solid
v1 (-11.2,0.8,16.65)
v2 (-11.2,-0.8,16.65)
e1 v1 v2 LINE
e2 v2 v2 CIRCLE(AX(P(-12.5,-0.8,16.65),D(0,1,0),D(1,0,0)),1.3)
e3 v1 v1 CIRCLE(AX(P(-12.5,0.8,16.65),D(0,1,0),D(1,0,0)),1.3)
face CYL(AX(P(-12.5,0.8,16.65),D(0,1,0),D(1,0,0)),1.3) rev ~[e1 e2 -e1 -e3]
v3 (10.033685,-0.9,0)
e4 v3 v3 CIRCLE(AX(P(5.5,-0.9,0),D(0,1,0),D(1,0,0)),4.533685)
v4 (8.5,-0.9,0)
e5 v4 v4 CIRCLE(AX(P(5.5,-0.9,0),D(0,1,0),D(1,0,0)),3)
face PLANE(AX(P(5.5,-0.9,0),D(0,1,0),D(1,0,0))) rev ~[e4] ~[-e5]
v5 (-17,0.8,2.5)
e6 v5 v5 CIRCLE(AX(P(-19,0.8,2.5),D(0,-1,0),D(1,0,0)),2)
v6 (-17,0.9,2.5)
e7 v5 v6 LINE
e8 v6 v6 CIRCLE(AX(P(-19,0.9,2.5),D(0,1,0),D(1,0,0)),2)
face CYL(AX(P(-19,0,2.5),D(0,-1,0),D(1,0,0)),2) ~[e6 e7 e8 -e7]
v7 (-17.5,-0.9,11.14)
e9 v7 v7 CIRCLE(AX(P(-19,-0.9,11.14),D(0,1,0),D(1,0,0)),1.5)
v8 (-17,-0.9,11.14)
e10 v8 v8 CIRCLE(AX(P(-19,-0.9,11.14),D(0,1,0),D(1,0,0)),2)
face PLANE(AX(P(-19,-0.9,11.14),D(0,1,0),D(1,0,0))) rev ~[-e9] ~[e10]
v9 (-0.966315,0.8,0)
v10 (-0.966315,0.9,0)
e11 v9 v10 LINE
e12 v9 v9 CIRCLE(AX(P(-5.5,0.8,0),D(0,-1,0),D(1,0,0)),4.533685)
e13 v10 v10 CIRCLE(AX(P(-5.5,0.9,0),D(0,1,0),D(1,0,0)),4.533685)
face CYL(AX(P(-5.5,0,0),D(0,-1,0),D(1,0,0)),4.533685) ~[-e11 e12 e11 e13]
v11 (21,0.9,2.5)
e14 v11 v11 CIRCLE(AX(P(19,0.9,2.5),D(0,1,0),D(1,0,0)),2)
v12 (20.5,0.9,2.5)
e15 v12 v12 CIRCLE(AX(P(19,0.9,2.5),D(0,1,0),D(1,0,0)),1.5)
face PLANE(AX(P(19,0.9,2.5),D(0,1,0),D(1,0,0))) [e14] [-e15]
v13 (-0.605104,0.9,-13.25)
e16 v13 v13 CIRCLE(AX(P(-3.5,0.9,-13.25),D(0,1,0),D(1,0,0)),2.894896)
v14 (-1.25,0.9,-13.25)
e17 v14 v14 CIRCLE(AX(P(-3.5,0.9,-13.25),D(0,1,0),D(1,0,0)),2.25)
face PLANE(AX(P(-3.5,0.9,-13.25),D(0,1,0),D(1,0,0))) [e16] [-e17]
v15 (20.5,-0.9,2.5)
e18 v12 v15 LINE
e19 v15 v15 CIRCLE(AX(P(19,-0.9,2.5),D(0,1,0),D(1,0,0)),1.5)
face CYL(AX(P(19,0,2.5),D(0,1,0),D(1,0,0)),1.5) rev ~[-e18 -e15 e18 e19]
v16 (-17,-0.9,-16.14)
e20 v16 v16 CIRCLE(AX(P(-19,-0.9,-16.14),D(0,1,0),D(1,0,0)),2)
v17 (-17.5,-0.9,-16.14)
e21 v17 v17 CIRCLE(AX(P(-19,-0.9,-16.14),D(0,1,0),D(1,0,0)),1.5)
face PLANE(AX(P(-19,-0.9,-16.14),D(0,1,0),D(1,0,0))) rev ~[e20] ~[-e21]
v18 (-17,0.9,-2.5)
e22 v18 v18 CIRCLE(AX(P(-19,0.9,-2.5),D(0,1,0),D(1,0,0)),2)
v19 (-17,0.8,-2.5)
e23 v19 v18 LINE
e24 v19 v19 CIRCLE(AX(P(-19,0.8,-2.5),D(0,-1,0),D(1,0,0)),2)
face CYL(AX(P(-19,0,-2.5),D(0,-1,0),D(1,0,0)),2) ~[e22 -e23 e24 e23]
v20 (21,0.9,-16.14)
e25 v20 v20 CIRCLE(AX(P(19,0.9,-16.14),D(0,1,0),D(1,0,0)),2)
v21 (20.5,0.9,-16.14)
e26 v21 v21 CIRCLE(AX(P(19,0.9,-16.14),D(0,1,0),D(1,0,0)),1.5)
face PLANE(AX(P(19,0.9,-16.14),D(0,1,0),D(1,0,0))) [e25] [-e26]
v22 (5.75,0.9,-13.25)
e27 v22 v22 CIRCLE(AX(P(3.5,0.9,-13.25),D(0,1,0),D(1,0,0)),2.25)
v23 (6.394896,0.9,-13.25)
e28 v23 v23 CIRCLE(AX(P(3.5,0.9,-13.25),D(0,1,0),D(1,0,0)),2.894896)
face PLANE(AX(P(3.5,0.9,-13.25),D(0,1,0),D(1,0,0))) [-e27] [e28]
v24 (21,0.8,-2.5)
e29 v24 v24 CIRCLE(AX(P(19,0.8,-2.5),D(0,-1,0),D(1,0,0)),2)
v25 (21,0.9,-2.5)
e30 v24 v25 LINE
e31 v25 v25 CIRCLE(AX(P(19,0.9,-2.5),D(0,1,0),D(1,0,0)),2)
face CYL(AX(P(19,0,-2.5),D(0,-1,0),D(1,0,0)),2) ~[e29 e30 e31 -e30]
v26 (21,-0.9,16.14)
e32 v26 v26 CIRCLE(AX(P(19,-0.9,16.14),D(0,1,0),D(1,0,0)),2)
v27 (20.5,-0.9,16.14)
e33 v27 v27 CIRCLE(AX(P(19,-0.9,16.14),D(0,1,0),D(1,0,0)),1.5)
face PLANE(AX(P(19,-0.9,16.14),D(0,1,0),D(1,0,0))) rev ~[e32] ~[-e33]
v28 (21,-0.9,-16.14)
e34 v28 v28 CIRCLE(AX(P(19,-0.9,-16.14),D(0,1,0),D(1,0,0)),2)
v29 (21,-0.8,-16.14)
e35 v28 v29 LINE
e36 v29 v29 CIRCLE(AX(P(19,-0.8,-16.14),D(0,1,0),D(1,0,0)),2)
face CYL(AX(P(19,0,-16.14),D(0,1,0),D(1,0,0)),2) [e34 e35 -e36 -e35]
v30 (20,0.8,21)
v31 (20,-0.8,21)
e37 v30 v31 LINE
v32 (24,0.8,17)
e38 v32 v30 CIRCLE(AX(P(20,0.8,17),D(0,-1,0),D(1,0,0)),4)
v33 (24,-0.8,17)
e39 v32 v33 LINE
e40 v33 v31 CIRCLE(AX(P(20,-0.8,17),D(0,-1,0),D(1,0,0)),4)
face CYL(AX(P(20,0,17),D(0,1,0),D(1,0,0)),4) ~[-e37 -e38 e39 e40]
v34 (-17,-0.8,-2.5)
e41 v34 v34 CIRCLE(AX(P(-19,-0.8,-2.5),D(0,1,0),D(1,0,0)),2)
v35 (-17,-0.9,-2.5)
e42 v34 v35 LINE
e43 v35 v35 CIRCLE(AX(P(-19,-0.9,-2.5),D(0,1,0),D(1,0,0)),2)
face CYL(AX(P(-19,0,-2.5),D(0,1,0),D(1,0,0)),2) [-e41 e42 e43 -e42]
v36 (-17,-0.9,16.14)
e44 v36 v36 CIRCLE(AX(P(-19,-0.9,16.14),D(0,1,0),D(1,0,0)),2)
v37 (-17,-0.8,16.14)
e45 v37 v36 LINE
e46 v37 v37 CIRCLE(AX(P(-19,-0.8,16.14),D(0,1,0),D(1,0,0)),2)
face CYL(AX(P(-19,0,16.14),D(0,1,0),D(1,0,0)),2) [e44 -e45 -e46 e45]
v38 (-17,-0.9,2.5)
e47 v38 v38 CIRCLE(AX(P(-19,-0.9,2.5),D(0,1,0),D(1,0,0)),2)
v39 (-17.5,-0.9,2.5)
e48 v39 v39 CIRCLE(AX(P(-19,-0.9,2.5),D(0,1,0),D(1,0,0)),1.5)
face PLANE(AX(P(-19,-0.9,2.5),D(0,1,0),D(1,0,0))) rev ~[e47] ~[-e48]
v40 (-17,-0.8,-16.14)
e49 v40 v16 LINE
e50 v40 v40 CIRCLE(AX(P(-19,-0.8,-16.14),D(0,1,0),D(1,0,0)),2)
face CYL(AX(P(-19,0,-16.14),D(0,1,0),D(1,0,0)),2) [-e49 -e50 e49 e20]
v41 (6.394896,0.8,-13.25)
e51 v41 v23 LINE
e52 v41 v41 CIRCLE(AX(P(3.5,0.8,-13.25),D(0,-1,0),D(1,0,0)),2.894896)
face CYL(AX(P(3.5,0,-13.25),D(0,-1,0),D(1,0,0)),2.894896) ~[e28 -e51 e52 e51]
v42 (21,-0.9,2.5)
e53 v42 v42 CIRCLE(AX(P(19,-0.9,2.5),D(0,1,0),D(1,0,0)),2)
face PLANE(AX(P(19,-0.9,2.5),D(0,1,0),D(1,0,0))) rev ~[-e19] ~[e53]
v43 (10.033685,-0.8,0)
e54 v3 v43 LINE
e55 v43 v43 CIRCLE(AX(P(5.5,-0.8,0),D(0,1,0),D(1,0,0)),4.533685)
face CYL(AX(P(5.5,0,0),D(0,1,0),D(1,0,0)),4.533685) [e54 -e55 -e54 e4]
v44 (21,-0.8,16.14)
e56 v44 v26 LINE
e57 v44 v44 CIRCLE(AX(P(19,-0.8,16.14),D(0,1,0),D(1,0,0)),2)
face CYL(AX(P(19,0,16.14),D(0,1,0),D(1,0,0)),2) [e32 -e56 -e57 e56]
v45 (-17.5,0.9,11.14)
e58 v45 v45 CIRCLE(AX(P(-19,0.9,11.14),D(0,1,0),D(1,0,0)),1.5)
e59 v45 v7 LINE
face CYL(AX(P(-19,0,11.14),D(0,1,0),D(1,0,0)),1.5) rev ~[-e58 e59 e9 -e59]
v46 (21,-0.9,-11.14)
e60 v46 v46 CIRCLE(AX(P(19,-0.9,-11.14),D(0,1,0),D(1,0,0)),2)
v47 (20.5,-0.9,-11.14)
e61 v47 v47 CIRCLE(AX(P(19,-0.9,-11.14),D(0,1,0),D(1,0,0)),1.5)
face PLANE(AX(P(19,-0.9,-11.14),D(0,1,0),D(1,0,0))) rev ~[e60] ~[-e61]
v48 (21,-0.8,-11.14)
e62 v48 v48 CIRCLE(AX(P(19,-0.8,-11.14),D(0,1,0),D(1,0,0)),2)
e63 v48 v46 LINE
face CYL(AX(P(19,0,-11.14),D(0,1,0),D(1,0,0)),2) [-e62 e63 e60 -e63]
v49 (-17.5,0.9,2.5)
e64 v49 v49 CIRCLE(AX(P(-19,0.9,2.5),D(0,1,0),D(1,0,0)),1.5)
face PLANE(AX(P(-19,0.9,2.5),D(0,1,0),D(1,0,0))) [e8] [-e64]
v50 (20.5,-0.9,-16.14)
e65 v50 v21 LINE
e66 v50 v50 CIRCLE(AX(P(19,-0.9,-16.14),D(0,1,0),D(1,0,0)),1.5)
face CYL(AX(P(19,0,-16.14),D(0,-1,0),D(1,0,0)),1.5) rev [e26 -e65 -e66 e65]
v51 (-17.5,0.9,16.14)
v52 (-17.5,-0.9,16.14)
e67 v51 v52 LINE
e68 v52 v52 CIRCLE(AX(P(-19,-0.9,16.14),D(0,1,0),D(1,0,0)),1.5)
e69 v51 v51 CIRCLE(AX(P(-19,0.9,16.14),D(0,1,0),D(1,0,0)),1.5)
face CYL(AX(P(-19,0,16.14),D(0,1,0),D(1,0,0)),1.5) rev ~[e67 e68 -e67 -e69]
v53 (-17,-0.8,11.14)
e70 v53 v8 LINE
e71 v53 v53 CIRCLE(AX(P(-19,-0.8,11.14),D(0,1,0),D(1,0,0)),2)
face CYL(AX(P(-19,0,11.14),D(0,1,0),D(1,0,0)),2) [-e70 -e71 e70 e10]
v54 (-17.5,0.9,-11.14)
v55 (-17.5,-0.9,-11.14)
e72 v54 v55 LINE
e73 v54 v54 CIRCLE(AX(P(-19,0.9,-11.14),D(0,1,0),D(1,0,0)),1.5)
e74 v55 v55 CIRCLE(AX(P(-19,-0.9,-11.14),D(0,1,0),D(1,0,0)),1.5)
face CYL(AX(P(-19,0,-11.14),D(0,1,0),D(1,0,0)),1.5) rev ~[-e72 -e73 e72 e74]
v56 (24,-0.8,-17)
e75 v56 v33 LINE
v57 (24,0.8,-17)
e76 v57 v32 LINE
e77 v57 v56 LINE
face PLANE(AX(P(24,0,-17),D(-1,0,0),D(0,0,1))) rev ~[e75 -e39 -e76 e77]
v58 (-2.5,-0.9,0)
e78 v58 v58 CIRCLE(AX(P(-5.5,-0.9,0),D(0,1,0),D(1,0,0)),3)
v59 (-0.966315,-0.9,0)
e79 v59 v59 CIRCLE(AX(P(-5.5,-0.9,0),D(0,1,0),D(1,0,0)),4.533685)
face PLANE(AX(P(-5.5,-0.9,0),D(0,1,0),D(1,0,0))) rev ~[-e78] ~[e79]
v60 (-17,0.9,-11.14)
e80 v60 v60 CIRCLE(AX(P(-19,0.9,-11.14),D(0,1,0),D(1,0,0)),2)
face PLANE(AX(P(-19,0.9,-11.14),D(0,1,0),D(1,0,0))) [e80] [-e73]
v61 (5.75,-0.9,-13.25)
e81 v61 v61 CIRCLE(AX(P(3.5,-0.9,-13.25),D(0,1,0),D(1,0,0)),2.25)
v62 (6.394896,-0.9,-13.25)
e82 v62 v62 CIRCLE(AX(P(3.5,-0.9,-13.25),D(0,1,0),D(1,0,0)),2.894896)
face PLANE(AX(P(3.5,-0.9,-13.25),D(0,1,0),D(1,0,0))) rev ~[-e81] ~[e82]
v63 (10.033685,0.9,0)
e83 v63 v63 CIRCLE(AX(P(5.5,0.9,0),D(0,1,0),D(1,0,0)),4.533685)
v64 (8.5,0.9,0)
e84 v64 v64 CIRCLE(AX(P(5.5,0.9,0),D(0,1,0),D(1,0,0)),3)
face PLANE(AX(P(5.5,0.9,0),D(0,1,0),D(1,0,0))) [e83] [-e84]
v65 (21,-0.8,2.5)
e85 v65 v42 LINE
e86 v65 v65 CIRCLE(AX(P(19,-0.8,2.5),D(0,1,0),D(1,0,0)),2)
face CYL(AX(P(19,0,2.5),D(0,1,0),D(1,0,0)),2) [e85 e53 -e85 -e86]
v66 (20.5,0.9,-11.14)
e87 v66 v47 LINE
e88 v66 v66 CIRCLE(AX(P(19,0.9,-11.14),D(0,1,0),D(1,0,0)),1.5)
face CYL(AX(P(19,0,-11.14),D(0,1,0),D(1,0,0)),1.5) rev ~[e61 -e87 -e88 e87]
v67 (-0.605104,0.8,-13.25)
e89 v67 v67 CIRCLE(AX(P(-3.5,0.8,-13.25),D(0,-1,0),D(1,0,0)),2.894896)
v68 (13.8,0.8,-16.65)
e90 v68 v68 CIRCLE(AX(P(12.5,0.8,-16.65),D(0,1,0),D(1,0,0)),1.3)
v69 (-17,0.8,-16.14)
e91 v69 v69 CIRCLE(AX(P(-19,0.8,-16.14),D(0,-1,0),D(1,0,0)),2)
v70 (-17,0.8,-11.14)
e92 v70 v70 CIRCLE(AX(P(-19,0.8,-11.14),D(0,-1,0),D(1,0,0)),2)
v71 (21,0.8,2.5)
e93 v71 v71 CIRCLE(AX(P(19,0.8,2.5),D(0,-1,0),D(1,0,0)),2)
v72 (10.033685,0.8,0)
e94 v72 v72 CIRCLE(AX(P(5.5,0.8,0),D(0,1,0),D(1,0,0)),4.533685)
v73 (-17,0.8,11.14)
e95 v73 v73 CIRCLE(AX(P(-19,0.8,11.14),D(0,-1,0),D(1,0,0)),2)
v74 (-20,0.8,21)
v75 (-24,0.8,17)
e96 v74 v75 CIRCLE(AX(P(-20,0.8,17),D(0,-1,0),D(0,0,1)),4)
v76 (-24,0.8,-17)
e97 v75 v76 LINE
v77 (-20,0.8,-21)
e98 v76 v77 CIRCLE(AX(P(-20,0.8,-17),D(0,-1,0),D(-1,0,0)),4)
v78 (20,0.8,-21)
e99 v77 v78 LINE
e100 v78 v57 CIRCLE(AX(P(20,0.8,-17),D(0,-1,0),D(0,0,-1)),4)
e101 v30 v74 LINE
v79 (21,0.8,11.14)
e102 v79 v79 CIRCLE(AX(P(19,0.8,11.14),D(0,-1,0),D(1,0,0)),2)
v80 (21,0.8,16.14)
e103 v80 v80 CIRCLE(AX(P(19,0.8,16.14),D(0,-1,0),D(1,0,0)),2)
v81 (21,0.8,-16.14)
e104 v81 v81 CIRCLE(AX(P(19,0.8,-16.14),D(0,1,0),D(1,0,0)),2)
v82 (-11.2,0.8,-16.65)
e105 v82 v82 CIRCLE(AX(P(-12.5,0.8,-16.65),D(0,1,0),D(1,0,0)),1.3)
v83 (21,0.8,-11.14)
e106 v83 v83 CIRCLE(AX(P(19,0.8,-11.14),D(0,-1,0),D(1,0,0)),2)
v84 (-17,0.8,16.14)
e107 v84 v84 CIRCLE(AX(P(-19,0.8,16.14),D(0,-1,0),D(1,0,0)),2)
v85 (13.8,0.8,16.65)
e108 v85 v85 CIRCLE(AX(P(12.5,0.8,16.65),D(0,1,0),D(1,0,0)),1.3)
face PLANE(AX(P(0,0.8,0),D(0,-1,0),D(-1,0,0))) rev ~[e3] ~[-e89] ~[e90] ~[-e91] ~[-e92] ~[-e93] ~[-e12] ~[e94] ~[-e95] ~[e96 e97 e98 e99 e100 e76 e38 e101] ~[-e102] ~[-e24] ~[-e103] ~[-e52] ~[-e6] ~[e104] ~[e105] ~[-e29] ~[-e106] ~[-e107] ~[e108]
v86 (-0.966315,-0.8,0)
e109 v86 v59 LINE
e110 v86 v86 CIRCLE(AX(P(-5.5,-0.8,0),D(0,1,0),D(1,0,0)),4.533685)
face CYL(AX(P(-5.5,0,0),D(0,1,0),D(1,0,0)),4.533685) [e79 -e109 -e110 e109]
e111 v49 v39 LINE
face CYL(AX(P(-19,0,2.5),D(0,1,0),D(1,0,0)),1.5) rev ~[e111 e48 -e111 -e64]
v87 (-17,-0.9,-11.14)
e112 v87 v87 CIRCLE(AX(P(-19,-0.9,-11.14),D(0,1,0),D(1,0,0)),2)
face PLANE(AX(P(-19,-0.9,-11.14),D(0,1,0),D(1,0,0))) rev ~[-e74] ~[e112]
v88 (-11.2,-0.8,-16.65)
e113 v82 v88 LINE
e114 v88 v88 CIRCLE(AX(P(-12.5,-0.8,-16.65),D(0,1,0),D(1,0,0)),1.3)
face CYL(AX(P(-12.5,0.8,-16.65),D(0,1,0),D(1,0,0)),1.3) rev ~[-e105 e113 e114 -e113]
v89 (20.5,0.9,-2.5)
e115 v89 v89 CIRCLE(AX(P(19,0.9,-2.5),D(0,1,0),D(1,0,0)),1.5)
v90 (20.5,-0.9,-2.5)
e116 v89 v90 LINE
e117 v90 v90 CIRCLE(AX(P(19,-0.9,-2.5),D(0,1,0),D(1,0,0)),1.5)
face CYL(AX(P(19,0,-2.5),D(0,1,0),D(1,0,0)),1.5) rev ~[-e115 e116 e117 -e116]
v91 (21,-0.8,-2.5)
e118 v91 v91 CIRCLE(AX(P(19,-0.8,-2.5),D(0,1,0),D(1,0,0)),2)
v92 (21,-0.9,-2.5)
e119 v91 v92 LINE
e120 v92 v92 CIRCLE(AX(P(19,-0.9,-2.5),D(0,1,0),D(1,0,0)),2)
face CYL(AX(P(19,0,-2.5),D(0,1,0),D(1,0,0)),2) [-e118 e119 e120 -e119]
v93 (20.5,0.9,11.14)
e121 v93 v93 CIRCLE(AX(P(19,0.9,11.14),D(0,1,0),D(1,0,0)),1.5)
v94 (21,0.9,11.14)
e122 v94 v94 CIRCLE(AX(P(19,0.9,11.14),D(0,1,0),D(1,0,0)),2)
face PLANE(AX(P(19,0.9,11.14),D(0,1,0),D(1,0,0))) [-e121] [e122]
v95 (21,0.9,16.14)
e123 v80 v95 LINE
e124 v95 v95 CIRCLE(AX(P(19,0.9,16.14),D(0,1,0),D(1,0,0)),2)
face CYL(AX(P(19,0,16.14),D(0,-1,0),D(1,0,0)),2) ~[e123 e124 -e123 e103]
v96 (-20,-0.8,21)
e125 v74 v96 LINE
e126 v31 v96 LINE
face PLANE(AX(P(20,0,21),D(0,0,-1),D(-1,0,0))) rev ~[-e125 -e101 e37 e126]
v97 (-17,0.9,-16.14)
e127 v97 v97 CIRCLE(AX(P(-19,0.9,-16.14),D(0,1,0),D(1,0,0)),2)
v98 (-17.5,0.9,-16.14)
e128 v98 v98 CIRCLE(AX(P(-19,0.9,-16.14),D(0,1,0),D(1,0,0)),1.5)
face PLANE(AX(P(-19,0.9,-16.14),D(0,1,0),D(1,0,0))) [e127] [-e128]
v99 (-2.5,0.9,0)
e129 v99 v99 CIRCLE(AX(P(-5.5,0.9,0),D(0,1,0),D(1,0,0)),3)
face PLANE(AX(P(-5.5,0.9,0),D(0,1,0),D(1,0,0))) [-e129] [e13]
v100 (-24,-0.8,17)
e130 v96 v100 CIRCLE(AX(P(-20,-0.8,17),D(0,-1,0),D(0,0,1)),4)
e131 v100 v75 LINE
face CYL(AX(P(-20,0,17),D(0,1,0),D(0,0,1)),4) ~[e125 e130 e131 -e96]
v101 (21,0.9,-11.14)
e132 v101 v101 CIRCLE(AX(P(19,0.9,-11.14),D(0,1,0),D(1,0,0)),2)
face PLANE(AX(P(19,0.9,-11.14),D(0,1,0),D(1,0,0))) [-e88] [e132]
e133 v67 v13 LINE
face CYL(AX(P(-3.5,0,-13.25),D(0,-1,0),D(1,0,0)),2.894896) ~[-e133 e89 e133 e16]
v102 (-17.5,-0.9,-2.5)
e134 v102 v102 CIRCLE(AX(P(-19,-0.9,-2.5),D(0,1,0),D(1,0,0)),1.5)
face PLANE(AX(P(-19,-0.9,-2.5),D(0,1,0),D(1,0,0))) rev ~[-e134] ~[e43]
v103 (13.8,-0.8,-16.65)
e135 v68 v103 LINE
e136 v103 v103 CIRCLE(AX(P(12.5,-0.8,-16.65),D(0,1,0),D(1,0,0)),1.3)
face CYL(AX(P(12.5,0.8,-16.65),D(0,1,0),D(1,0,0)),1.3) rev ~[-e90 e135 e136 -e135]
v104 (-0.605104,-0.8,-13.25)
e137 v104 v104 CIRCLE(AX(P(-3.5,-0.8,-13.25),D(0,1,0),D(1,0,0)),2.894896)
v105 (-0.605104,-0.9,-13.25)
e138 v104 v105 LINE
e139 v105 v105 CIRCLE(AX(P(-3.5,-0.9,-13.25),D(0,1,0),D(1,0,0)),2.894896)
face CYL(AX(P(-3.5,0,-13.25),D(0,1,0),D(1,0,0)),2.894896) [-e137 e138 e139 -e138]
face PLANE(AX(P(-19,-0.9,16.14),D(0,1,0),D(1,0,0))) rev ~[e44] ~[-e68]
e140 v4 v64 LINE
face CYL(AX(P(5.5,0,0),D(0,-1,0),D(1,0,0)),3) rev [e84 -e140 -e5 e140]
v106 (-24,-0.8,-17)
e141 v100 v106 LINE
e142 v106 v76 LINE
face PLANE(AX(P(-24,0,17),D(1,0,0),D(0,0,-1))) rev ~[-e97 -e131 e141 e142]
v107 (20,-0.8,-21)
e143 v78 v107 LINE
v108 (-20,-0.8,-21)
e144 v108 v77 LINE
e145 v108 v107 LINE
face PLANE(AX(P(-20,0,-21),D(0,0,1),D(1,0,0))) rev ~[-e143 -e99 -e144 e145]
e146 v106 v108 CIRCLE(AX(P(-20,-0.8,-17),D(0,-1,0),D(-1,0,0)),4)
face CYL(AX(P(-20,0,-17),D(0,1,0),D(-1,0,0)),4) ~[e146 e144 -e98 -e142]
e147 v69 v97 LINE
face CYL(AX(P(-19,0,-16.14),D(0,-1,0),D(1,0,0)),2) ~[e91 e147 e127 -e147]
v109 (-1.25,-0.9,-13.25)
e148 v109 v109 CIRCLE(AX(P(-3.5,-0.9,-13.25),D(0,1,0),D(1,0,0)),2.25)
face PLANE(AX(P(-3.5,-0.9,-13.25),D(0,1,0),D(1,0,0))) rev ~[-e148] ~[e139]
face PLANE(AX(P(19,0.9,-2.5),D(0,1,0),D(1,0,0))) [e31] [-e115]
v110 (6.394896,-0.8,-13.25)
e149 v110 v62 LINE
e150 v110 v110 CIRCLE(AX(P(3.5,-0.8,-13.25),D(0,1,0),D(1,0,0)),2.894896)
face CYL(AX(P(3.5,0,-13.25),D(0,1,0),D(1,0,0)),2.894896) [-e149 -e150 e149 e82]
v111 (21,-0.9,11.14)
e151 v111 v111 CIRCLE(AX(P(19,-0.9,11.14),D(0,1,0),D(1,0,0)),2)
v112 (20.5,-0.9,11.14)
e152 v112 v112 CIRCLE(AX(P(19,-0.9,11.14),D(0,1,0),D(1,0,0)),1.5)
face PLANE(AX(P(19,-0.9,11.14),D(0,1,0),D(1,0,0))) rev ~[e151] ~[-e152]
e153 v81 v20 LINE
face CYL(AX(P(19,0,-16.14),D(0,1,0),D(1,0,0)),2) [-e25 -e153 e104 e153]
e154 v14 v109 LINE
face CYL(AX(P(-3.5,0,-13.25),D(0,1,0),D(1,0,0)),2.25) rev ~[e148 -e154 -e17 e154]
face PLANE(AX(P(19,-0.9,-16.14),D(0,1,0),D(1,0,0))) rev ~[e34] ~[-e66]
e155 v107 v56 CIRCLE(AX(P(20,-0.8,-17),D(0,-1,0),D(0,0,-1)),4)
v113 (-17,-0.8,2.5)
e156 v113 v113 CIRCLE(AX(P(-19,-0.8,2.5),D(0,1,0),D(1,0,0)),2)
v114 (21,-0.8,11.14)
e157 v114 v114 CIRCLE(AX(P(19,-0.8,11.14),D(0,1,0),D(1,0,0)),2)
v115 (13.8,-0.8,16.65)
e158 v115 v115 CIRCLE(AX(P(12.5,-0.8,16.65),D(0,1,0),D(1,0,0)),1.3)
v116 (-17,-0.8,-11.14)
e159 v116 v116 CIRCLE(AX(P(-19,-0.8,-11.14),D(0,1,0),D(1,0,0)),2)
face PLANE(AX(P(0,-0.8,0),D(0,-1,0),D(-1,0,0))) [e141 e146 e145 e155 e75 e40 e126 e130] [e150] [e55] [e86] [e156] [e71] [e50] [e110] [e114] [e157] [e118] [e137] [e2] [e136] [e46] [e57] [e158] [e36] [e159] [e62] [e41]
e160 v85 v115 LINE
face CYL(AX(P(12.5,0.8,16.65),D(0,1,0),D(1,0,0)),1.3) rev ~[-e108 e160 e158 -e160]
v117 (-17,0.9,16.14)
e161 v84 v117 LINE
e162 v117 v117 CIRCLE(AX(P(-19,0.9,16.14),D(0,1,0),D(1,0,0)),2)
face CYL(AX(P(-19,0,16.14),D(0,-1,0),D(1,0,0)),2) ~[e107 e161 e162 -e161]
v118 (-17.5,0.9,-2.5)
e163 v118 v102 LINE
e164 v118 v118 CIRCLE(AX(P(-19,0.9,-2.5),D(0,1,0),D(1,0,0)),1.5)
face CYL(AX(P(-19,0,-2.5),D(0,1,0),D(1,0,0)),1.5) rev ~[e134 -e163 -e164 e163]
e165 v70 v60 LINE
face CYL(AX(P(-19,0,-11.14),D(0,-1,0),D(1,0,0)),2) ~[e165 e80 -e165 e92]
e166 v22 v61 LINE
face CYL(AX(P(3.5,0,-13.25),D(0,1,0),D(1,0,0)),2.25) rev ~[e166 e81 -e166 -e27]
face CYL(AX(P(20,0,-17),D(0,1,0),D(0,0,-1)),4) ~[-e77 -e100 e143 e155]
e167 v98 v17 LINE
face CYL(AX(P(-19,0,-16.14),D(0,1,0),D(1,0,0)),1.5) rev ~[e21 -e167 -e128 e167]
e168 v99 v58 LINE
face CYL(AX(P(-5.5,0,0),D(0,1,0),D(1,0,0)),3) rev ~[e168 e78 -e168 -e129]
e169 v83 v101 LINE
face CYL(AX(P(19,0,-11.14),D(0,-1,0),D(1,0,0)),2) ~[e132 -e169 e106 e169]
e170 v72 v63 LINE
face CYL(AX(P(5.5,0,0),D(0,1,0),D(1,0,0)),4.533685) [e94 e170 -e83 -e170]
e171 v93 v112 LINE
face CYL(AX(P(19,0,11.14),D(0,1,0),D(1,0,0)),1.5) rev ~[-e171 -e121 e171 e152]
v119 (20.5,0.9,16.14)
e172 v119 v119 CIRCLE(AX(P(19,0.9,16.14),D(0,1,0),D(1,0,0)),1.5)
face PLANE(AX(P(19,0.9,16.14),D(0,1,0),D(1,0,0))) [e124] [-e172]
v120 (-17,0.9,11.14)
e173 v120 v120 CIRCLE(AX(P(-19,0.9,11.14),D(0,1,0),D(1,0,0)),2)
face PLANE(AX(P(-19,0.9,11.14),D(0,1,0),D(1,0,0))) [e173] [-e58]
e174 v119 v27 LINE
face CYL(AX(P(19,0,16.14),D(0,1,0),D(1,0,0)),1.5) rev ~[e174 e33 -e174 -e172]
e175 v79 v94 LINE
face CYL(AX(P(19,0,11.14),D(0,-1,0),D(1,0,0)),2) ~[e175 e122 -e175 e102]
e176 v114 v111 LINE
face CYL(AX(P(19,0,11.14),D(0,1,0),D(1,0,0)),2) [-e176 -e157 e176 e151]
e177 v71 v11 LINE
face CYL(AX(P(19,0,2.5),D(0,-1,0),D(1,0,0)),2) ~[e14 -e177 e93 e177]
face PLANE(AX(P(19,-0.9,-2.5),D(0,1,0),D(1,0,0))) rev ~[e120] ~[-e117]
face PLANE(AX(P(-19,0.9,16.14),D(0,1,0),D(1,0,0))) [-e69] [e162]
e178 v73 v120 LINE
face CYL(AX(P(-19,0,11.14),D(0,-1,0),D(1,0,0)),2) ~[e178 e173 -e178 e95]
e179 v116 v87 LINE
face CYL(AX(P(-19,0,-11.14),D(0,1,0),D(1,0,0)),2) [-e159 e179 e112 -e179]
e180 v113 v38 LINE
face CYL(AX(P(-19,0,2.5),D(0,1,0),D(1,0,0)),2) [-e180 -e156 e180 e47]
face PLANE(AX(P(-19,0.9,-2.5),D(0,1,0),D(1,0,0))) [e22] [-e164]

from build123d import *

# Parameters (mm, degrees)
SALIENTE_EXTRUIR1_DEPTH    = 0.8
CROQUIS2_R                 = 1.3
CORTAR_EXTRUIR1_DEPTH      = 1
CORTAR_EXTRUIR1_DEPTH_BACK = 2.6
CROQUIS3_R                 = 3
CORTAR_EXTRUIR2_DEPTH      = 2.6
CROQUIS5_R                 = 4.533685243
CROQUIS5_R_2               = 3
SALIENTE_EXTRUIR2_DEPTH    = 0.9
CROQUIS6_R                 = 2.25
CROQUIS6_R_2               = 1.5
CORTAR_EXTRUIR3_DEPTH      = 2.7
CROQUIS7_R                 = 2
CROQUIS7_R_2               = 1.5
CROQUIS7_R_3               = 2.894896359
CROQUIS7_R_4               = 2.25
SALIENTE_EXTRUIR3_DEPTH    = 0.9


with BuildPart() as part:
    # Croquis1 → Saliente-Extruir1 (new body, symmetric)
    with BuildSketch(Plane(origin=(0, 0, 0), x_dir=(1, 0, 0), z_dir=(0, 1, 0))):
        with BuildLine():
            Line((-20, 21), (20, 21))
            ThreePointArc((20, 21), (22.828427125, 19.828427125), (24, 17))
            Line((24, 17), (24, -17))
            ThreePointArc((24, -17), (22.828427125, -19.828427125), (20, -21))
            Line((20, -21), (-20, -21))
            ThreePointArc((-20, -21), (-22.828427125, -19.828427125), (-24, -17))
            Line((-24, -17), (-24, 17))
            ThreePointArc((-24, 17), (-22.828427125, 19.828427125), (-20, 21))
        make_face()
    extrude(amount=SALIENTE_EXTRUIR1_DEPTH, both=True)

    # Croquis2 → Cortar-Extruir1 (cut, two sides)
    with BuildSketch(Plane(origin=(0, 0.8, 0), x_dir=(1, 0, 0), z_dir=(0, 1, 0))) as cortar_extruir1_sk:
        with Locations((-12.5, 16.65)):
            Circle(CROQUIS2_R)
        with Locations((12.5, 16.65)):
            Circle(CROQUIS2_R)
        with Locations((12.5, -16.65)):
            Circle(CROQUIS2_R)
        with Locations((-12.5, -16.65)):
            Circle(CROQUIS2_R)
    extrude(amount=CORTAR_EXTRUIR1_DEPTH, mode=Mode.SUBTRACT)
    extrude(cortar_extruir1_sk.sketch, amount=-CORTAR_EXTRUIR1_DEPTH_BACK, mode=Mode.SUBTRACT)

    # Croquis3 → Cortar-Extruir2 (cut, through all)
    with BuildSketch(Plane(origin=(0, 0.8, 0), x_dir=(1, 0, 0), z_dir=(0, 1, 0))):
        with Locations((-5.5, 0)):
            Circle(CROQUIS3_R)
        with Locations((5.5, 0)):
            Circle(CROQUIS3_R)
    extrude(amount=-CORTAR_EXTRUIR2_DEPTH, mode=Mode.SUBTRACT)

    # Croquis5 → Saliente-Extruir2 (add, symmetric)
    with BuildSketch(Plane(origin=(0, 0, 0), x_dir=(1, 0, 0), z_dir=(0, 1, 0))):
        with Locations((-5.5, 0)):
            Circle(CROQUIS5_R)
        with Locations((-5.5, 0)):
            Circle(CROQUIS5_R_2, mode=Mode.SUBTRACT)
        with Locations((5.5, 0)):
            Circle(CROQUIS5_R)
        with Locations((5.5, 0)):
            Circle(CROQUIS5_R_2, mode=Mode.SUBTRACT)
    extrude(amount=SALIENTE_EXTRUIR2_DEPTH, both=True)

    # Croquis6 → Cortar-Extruir3 (cut, through all)
    with BuildSketch(Plane(origin=(0, 0.8, 0), x_dir=(1, 0, 0), z_dir=(0, 1, 0))):
        with Locations((-3.5, 13.25)):
            Circle(CROQUIS6_R)
        with Locations((3.5, 13.25)):
            Circle(CROQUIS6_R)
        with Locations((-19, 2.5)):
            Circle(CROQUIS6_R_2)
        with Locations((-19, -2.5)):
            Circle(CROQUIS6_R_2)
        with Locations((-19, 11.14)):
            Circle(CROQUIS6_R_2)
        with Locations((-19, 16.14)):
            Circle(CROQUIS6_R_2)
        with Locations((-19, -11.14)):
            Circle(CROQUIS6_R_2)
        with Locations((-19, -16.14)):
            Circle(CROQUIS6_R_2)
        with Locations((19, -16.14)):
            Circle(CROQUIS6_R_2)
        with Locations((19, -11.14)):
            Circle(CROQUIS6_R_2)
        with Locations((19, 16.14)):
            Circle(CROQUIS6_R_2)
        with Locations((19, 11.14)):
            Circle(CROQUIS6_R_2)
        with Locations((19, -2.5)):
            Circle(CROQUIS6_R_2)
        with Locations((19, 2.5)):
            Circle(CROQUIS6_R_2)
    extrude(amount=-CORTAR_EXTRUIR3_DEPTH, mode=Mode.SUBTRACT)

    # Croquis7 → Saliente-Extruir3 (add, symmetric)
    with BuildSketch(Plane(origin=(0, 0, 0), x_dir=(1, 0, 0), z_dir=(0, 1, 0))):
        with Locations((-19, 16.14)):
            Circle(CROQUIS7_R)
        with Locations((-19, 16.14)):
            Circle(CROQUIS7_R_2, mode=Mode.SUBTRACT)
        with Locations((-19, 11.14)):
            Circle(CROQUIS7_R)
        with Locations((-19, 11.14)):
            Circle(CROQUIS7_R_2, mode=Mode.SUBTRACT)
        with Locations((-19, 2.5)):
            Circle(CROQUIS7_R)
        with Locations((-19, 2.5)):
            Circle(CROQUIS7_R_2, mode=Mode.SUBTRACT)
        with Locations((-19, -2.5)):
            Circle(CROQUIS7_R)
        with Locations((-19, -2.5)):
            Circle(CROQUIS7_R_2, mode=Mode.SUBTRACT)
        with Locations((-19, -16.14)):
            Circle(CROQUIS7_R)
        with Locations((-19, -16.14)):
            Circle(CROQUIS7_R_2, mode=Mode.SUBTRACT)
        with Locations((-19, -11.14)):
            Circle(CROQUIS7_R)
        with Locations((-19, -11.14)):
            Circle(CROQUIS7_R_2, mode=Mode.SUBTRACT)
        with Locations((-3.5, 13.25)):
            Circle(CROQUIS7_R_3)
        with Locations((-3.5, 13.25)):
            Circle(CROQUIS7_R_4, mode=Mode.SUBTRACT)
        with Locations((3.5, 13.25)):
            Circle(CROQUIS7_R_3)
        with Locations((3.5, 13.25)):
            Circle(CROQUIS7_R_4, mode=Mode.SUBTRACT)
        with Locations((19, -11.14)):
            Circle(CROQUIS7_R)
        with Locations((19, -11.14)):
            Circle(CROQUIS7_R_2, mode=Mode.SUBTRACT)
        with Locations((19, -16.14)):
            Circle(CROQUIS7_R)
        with Locations((19, -16.14)):
            Circle(CROQUIS7_R_2, mode=Mode.SUBTRACT)
        with Locations((19, -2.5)):
            Circle(CROQUIS7_R)
        with Locations((19, -2.5)):
            Circle(CROQUIS7_R_2, mode=Mode.SUBTRACT)
        with Locations((19, 2.5)):
            Circle(CROQUIS7_R)
        with Locations((19, 2.5)):
            Circle(CROQUIS7_R_2, mode=Mode.SUBTRACT)
        with Locations((19, 11.14)):
            Circle(CROQUIS7_R)
        with Locations((19, 11.14)):
            Circle(CROQUIS7_R_2, mode=Mode.SUBTRACT)
        with Locations((19, 16.14)):
            Circle(CROQUIS7_R)
        with Locations((19, 16.14)):
            Circle(CROQUIS7_R_2, mode=Mode.SUBTRACT)
    extrude(amount=SALIENTE_EXTRUIR3_DEPTH, both=True)


solid = part.part
